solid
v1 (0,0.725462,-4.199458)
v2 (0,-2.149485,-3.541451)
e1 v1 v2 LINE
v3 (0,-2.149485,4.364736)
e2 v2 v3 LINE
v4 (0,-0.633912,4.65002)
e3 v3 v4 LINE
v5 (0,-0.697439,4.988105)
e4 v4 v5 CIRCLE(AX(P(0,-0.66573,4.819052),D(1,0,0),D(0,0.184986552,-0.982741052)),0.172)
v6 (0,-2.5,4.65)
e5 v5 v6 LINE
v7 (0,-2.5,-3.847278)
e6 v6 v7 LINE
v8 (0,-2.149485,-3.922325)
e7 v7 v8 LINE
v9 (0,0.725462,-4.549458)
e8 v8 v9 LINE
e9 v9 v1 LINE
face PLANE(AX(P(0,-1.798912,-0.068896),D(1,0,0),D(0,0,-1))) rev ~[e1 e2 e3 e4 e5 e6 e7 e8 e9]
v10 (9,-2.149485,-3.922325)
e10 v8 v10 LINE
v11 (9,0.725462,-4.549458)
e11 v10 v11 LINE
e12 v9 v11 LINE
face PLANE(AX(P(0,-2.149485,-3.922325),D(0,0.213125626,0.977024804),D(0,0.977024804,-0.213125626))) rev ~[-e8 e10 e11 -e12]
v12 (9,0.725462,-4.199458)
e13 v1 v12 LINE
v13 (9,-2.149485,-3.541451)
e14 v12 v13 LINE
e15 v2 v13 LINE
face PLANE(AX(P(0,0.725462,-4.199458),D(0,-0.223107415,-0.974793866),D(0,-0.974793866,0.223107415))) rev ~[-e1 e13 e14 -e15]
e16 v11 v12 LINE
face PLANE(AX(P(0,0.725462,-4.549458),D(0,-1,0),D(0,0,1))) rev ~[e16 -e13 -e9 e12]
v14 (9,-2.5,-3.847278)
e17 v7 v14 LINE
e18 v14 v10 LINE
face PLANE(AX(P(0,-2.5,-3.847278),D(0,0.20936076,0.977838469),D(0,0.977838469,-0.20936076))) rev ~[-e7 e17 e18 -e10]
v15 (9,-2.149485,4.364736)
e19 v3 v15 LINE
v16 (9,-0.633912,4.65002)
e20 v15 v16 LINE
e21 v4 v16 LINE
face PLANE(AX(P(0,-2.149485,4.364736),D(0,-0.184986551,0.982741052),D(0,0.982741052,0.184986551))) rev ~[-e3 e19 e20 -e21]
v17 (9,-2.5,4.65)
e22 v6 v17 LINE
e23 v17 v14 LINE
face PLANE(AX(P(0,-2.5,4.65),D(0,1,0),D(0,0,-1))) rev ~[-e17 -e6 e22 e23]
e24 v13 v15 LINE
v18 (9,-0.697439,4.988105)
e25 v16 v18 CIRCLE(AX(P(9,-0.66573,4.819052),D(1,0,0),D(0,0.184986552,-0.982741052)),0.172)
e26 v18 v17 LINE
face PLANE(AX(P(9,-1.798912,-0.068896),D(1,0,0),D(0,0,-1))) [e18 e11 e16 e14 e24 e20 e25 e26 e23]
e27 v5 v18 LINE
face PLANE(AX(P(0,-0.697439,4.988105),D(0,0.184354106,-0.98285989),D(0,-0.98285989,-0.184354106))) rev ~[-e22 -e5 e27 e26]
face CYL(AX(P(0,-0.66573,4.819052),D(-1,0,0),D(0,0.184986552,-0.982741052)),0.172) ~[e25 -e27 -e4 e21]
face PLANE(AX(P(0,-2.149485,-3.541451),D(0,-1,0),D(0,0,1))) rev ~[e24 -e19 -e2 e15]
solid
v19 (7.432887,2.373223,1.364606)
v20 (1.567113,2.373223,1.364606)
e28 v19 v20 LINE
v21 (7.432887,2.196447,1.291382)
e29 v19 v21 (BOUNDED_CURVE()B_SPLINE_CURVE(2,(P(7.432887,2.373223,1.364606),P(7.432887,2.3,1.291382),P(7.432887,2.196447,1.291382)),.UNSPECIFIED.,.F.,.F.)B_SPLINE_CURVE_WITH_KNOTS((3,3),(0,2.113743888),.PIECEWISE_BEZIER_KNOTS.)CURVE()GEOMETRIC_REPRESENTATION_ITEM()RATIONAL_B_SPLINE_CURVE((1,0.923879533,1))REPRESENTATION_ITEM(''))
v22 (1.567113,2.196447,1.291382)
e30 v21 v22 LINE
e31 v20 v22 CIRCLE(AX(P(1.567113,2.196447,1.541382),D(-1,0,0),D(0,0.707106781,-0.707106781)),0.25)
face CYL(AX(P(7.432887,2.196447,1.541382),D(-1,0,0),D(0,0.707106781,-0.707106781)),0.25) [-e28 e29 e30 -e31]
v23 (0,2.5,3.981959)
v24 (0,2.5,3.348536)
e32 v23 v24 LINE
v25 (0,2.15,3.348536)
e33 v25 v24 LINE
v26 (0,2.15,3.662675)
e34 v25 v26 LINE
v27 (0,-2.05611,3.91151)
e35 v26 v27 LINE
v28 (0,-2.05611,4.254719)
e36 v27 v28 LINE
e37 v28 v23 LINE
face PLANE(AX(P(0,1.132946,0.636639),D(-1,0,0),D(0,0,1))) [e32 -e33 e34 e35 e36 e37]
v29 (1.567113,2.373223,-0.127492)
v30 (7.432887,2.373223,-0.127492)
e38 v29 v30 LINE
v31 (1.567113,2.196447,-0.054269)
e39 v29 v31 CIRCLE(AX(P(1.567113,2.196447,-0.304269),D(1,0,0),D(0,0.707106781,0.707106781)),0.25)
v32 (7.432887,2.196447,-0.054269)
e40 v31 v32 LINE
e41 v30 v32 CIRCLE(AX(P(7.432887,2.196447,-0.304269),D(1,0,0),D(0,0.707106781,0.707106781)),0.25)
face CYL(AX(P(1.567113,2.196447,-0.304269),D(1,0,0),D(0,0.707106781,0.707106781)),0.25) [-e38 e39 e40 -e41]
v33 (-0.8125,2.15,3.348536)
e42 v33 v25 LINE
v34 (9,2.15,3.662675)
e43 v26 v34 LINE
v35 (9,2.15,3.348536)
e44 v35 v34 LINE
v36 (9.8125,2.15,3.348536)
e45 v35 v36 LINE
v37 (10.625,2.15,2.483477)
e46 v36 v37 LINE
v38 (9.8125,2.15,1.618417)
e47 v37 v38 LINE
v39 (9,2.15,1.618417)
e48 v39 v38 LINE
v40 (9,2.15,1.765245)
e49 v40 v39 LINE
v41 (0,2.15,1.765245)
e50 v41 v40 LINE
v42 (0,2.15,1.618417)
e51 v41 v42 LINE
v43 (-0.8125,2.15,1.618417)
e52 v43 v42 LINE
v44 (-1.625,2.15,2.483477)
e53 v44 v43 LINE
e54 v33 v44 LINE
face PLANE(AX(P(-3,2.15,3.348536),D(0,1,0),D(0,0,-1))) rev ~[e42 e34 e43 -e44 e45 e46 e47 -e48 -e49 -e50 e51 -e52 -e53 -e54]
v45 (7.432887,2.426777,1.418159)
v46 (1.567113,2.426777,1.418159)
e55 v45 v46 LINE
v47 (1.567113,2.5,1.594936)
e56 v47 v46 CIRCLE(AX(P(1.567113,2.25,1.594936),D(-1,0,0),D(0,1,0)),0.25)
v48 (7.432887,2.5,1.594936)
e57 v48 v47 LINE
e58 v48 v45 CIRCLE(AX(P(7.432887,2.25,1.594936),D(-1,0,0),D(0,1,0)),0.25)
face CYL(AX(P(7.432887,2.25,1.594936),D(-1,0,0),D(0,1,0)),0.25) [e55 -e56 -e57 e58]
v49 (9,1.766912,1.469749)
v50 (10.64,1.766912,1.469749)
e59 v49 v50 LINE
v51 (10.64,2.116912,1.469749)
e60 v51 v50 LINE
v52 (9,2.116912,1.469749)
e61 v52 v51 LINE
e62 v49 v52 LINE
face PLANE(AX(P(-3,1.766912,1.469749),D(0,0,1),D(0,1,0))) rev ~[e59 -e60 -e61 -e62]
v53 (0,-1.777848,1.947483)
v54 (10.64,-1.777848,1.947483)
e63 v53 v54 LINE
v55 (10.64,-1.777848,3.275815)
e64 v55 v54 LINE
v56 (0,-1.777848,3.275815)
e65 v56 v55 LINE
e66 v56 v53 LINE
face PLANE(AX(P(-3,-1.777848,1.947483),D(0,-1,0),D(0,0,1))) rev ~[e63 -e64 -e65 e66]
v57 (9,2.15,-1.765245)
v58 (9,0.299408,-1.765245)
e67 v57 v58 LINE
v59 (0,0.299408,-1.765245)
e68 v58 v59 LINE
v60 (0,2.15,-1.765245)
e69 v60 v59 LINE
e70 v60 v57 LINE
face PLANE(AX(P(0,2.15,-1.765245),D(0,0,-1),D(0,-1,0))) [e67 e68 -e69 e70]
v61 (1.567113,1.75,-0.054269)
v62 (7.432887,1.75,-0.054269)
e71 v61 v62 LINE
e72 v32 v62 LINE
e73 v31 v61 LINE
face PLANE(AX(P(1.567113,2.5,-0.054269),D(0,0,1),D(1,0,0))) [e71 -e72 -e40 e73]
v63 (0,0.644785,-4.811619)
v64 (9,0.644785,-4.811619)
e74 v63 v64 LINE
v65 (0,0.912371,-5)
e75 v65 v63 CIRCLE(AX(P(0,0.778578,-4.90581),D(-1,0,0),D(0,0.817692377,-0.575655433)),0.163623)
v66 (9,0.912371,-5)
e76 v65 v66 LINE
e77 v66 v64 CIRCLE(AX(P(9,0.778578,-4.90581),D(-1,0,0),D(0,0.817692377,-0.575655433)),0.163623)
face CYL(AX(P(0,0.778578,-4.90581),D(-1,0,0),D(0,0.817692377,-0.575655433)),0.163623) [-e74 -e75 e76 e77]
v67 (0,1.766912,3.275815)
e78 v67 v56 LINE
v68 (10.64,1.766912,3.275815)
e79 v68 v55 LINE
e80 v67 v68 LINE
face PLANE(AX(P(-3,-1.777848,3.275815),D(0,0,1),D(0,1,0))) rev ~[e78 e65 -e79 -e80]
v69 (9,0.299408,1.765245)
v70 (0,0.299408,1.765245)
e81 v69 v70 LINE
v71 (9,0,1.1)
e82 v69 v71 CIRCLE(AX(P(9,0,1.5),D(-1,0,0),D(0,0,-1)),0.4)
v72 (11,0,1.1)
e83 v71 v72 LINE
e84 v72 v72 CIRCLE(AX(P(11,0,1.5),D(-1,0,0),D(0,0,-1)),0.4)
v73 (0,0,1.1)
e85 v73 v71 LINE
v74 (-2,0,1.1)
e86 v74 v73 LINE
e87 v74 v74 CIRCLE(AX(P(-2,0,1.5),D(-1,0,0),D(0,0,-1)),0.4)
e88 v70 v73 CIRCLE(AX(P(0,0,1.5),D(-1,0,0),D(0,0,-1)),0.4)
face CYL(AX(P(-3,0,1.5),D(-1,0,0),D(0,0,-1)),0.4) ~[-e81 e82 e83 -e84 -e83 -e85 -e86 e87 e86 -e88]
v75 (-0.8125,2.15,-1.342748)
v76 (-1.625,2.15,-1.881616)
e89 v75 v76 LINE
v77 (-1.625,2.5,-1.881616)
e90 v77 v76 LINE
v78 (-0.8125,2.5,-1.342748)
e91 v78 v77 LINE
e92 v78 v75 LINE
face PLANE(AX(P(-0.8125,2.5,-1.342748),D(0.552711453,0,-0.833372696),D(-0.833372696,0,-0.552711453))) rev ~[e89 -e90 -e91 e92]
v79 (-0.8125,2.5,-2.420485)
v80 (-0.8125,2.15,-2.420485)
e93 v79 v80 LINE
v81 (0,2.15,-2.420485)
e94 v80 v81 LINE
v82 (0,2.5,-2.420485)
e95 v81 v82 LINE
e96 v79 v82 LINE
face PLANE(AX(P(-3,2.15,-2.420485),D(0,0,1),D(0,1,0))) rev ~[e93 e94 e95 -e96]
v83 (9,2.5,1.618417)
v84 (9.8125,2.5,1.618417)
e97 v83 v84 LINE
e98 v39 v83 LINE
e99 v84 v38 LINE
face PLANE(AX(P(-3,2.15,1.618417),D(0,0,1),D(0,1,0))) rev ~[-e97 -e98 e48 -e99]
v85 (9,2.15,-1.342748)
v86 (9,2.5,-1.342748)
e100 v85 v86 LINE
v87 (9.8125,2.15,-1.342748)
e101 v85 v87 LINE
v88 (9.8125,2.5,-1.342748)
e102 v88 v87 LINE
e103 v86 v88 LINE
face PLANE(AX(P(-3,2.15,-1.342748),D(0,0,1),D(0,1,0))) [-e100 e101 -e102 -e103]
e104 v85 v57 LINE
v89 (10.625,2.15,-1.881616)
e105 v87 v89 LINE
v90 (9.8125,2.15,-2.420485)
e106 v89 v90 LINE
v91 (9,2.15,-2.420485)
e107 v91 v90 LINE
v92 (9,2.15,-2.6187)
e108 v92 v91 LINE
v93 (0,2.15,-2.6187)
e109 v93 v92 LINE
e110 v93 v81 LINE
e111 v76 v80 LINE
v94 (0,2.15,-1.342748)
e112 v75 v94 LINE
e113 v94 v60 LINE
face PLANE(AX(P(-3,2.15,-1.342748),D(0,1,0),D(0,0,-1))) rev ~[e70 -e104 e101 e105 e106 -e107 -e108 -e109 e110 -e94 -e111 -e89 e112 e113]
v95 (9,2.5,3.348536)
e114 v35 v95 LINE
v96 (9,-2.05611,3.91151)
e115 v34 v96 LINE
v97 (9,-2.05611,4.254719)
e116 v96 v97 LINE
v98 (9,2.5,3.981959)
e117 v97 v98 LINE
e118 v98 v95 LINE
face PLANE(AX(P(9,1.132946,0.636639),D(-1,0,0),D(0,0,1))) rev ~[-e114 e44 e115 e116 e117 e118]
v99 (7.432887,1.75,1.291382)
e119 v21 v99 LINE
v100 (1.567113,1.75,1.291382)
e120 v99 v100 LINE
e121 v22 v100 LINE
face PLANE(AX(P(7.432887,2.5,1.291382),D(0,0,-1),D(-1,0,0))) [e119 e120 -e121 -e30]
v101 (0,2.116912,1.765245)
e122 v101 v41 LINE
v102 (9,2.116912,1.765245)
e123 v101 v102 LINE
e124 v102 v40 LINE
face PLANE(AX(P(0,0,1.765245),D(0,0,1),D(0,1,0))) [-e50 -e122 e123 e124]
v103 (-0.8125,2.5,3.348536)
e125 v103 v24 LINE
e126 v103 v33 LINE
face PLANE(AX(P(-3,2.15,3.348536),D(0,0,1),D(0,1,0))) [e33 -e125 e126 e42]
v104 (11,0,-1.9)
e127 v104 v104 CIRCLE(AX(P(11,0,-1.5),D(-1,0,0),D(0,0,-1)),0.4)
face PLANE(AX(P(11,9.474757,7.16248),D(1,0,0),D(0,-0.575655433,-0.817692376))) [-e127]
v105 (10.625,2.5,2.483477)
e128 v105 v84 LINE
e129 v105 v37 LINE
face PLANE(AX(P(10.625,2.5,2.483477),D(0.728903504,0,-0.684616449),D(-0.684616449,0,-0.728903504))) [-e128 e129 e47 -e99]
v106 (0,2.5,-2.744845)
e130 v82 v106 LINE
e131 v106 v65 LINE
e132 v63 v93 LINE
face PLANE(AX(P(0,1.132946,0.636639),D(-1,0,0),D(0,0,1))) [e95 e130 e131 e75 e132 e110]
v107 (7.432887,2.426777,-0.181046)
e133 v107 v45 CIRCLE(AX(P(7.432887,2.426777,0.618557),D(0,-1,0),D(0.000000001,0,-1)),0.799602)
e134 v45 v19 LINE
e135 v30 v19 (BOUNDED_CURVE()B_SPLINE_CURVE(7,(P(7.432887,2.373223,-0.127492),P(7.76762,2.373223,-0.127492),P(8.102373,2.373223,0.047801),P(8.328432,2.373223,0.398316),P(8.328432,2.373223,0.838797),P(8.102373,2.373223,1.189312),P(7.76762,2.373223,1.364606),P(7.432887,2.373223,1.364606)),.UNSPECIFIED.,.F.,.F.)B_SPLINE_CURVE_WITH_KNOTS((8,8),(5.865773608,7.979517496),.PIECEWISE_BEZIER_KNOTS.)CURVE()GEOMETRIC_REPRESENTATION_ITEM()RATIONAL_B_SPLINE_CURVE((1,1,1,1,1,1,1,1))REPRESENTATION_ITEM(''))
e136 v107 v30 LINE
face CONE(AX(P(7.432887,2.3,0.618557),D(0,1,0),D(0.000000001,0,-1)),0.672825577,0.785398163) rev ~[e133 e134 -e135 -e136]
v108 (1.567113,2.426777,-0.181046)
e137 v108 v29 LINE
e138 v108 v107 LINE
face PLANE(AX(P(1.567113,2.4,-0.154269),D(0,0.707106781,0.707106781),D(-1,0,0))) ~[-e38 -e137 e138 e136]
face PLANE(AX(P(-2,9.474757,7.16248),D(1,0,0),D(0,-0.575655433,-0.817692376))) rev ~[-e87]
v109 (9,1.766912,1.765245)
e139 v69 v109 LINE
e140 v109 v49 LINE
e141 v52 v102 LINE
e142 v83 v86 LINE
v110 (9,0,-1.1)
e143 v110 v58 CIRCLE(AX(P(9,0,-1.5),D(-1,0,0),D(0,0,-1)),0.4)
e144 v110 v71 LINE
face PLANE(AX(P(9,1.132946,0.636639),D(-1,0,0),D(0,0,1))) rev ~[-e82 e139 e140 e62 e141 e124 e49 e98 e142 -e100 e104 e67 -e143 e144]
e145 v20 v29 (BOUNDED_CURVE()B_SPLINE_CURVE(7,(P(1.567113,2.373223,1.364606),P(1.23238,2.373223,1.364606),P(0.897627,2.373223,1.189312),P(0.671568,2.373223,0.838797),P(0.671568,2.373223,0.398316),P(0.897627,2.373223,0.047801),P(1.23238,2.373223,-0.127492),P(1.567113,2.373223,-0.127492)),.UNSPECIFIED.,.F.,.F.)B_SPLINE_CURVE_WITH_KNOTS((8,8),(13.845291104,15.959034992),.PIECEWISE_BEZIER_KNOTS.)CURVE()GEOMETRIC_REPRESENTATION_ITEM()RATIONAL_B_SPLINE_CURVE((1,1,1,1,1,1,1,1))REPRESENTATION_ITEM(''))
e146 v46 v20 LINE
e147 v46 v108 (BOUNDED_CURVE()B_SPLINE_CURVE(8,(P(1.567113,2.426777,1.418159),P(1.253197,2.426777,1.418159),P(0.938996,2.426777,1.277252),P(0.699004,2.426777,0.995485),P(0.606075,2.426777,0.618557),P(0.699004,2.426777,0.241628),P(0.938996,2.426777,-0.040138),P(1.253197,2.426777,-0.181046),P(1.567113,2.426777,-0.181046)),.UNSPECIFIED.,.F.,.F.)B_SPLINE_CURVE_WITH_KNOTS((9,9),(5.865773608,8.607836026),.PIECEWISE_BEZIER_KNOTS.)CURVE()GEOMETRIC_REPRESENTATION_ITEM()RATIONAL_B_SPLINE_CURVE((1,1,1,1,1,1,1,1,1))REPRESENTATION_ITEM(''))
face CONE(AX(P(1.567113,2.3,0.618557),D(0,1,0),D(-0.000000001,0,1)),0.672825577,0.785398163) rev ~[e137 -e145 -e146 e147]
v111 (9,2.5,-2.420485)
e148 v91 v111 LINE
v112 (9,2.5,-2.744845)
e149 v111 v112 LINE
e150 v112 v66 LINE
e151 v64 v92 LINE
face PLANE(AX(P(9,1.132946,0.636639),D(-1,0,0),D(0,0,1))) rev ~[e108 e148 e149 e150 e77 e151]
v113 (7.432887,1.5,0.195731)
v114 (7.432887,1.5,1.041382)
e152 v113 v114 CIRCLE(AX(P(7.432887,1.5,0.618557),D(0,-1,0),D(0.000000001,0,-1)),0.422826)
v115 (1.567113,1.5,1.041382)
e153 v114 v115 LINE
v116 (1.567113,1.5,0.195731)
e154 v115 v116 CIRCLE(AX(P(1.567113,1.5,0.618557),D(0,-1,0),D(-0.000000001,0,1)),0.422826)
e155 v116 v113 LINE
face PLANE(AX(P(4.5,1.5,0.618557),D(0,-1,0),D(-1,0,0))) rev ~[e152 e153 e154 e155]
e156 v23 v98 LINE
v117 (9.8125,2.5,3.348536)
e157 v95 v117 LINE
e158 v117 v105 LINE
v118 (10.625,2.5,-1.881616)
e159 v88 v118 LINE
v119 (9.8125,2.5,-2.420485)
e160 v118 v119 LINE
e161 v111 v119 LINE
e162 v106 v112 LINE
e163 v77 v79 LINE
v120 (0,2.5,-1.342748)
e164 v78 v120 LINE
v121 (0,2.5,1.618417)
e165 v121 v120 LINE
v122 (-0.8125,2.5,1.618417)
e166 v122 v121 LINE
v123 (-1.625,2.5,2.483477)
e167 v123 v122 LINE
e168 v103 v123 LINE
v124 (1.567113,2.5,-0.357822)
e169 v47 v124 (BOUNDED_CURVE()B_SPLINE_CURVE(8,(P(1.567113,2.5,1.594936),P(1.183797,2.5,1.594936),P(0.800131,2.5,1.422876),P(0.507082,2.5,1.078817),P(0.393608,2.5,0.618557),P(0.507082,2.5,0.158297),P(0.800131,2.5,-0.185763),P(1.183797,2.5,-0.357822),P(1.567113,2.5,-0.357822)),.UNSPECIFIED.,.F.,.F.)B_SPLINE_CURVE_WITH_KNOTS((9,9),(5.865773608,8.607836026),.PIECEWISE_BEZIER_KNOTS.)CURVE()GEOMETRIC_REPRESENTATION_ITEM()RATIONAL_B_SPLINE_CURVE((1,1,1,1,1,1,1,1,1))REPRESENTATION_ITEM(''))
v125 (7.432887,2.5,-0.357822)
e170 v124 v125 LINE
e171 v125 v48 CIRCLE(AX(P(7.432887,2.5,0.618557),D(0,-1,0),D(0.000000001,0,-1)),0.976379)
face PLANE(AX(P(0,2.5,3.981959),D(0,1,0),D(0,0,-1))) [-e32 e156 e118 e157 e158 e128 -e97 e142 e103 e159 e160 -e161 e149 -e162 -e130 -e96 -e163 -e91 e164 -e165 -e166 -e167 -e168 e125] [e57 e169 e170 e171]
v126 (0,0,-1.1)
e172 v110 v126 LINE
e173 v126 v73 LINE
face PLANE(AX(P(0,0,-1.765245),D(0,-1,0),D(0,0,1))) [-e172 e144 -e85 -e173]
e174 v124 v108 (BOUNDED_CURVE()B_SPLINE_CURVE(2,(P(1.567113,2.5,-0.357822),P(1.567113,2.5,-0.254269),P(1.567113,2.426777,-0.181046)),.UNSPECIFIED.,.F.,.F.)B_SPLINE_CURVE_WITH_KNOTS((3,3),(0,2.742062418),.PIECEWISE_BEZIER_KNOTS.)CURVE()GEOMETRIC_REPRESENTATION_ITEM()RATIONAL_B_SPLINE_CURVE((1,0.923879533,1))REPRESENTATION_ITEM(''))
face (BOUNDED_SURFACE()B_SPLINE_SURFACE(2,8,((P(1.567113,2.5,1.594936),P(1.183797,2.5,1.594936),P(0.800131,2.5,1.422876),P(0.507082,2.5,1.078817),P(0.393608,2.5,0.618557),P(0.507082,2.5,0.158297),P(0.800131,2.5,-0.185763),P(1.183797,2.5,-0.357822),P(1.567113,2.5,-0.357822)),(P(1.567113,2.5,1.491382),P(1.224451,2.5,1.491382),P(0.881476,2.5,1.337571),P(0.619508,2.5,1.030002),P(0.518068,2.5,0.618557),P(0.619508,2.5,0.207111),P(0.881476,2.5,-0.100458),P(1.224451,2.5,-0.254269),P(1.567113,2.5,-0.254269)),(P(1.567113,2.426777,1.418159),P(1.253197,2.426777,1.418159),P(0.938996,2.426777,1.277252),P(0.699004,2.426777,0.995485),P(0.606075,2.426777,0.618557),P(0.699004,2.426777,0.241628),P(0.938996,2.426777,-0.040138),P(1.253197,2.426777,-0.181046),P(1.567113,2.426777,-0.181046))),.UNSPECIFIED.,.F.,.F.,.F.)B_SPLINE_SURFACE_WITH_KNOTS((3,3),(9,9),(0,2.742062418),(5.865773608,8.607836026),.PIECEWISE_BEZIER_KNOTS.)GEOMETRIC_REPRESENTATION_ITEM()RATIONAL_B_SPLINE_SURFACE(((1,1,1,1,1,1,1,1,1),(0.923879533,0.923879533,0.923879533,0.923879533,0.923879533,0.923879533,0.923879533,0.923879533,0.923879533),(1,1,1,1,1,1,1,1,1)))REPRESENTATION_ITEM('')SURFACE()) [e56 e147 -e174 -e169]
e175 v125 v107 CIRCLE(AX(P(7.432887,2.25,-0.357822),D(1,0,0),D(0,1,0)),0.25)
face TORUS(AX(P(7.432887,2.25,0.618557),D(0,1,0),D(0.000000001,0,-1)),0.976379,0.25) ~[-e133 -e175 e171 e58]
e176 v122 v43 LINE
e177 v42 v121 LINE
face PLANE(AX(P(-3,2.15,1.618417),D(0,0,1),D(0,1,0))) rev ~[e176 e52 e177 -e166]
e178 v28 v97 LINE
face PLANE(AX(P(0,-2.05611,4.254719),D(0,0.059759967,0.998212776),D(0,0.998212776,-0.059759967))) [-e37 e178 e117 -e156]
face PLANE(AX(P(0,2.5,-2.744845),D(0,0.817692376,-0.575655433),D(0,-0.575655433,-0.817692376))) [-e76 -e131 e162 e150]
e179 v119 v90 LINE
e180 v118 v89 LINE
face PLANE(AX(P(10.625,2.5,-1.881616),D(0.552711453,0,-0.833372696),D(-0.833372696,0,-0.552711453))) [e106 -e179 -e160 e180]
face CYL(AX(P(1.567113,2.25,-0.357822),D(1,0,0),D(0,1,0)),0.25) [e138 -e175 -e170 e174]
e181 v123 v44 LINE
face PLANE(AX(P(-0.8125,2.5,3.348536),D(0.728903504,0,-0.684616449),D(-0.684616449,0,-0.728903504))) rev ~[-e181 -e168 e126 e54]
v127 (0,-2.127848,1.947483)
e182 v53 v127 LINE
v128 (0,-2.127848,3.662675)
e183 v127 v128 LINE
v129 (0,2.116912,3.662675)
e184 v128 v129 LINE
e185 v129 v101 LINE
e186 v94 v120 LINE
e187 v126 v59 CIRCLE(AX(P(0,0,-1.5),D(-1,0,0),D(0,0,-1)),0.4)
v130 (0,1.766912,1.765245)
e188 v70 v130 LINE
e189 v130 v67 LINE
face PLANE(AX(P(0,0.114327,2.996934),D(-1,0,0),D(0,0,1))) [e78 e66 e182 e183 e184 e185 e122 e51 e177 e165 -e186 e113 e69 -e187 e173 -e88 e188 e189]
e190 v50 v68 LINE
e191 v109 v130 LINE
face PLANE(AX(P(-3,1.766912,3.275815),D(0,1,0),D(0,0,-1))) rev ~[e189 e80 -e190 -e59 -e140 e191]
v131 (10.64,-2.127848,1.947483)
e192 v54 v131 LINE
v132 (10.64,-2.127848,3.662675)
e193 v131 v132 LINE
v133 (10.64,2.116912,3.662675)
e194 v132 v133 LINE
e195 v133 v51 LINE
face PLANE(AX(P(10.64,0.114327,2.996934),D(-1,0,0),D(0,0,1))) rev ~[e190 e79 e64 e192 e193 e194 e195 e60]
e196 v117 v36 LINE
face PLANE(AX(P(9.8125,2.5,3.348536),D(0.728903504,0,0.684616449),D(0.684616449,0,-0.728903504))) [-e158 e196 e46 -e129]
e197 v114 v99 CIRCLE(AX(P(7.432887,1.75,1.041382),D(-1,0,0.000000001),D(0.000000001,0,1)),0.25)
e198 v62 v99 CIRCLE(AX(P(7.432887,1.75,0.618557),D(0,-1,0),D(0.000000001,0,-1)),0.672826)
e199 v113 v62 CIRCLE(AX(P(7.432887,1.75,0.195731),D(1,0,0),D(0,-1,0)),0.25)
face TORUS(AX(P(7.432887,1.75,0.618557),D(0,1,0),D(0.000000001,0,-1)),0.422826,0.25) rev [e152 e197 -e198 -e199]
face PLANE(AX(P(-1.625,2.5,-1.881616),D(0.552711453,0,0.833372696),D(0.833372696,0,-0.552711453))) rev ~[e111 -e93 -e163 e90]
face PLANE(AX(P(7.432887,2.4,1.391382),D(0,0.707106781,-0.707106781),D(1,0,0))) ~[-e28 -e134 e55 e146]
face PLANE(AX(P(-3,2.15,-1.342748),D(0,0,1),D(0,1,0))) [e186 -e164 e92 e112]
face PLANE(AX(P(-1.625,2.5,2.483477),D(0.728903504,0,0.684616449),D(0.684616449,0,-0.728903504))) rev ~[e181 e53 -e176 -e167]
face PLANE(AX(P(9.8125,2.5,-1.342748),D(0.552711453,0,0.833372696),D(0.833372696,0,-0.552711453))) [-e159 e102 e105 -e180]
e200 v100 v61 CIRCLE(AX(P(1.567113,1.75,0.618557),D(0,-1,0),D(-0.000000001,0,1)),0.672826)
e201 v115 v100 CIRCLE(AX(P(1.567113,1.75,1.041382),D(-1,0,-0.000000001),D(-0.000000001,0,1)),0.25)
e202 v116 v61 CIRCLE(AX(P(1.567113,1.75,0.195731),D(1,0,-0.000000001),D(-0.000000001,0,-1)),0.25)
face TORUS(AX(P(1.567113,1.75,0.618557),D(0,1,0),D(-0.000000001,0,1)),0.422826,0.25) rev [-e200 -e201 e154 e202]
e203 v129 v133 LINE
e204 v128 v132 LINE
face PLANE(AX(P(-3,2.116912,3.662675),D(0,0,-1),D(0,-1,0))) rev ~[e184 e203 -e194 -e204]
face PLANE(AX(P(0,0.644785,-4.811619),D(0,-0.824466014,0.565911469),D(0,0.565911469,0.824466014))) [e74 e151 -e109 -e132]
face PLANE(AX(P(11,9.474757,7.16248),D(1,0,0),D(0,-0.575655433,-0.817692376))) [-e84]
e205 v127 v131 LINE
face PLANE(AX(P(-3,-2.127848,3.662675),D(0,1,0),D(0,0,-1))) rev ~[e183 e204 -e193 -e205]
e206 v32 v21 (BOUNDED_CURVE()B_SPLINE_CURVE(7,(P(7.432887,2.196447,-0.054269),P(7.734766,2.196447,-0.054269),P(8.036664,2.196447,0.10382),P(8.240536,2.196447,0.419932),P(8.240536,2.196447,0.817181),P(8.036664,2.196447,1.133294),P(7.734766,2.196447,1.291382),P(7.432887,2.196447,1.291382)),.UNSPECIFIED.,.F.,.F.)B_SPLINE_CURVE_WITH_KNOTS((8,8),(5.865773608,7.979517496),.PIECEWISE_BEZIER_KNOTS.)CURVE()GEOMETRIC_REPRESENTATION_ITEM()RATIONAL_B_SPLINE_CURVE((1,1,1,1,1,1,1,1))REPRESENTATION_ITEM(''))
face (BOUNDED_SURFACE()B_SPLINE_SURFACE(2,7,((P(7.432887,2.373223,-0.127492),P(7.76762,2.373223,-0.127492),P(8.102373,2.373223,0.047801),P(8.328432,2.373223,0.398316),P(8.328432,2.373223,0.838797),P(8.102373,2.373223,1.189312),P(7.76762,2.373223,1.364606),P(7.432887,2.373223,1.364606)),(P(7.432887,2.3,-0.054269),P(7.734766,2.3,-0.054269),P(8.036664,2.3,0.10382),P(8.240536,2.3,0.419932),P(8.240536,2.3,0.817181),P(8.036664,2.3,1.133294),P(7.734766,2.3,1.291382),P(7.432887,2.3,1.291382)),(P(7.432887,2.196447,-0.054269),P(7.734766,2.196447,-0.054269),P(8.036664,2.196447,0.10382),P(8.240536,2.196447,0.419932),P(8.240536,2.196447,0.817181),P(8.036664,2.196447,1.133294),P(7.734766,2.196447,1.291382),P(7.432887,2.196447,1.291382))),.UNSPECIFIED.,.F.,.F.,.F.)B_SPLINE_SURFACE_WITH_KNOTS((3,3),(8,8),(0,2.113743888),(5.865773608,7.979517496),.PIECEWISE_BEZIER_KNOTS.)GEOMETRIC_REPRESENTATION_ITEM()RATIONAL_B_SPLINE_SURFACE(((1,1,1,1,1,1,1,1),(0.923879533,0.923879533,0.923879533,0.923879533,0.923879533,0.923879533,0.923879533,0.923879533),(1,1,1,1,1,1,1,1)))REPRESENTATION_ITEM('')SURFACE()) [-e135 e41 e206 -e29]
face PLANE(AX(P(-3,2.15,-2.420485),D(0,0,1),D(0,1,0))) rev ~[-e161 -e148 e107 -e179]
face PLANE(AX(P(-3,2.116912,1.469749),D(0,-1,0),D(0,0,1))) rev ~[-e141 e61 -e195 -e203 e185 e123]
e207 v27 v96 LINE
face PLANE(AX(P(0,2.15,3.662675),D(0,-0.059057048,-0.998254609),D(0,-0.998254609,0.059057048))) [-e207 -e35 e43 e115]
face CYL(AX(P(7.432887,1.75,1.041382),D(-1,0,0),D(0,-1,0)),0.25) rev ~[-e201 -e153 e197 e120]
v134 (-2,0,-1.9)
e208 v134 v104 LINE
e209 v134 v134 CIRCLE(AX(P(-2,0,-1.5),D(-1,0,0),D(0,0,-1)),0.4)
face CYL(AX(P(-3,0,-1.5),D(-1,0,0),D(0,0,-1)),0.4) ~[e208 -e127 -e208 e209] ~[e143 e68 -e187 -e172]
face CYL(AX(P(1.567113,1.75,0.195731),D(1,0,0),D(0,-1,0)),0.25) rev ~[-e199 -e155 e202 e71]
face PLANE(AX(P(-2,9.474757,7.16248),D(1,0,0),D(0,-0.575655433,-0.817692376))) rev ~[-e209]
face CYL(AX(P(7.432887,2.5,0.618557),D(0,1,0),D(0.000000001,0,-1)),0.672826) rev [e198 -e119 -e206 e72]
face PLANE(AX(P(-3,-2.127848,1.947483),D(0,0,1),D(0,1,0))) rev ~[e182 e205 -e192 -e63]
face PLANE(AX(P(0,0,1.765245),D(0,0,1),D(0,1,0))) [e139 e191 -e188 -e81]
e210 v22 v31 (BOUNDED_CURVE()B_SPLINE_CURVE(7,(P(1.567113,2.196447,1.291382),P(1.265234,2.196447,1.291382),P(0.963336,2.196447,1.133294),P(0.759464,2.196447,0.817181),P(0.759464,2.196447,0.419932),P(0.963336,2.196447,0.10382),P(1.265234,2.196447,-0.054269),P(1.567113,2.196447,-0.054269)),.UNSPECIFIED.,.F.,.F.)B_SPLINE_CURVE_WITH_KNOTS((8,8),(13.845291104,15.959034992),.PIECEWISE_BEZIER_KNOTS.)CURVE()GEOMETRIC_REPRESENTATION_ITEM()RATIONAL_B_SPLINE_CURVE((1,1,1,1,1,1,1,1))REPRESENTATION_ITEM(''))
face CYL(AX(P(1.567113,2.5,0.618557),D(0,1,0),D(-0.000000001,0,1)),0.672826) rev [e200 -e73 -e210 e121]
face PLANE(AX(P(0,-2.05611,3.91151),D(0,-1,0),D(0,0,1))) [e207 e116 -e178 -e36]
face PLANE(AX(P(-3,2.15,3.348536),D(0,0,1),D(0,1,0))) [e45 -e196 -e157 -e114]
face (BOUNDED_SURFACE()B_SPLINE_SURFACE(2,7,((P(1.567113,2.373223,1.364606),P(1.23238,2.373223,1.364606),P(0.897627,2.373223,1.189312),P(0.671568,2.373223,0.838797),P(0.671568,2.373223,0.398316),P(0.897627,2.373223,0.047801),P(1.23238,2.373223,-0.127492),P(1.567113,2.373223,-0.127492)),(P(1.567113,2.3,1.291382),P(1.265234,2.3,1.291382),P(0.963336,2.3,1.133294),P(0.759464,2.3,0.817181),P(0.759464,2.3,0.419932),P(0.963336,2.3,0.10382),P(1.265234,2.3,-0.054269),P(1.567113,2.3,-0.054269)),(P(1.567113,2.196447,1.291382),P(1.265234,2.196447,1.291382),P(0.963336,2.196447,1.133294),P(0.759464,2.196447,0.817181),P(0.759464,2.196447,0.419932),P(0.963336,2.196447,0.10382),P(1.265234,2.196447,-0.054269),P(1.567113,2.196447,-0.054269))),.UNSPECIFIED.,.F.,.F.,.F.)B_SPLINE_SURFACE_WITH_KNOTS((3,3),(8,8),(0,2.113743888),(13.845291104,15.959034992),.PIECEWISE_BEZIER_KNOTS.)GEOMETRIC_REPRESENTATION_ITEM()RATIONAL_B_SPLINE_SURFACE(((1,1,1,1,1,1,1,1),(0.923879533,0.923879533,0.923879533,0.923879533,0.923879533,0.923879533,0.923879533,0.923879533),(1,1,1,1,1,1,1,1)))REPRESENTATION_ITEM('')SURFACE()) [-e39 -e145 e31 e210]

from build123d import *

# Parameters (mm, degrees)
RESSALTO_EXTRUS_O1_DEPTH      = 9
RESSALTO_EXTRUS_O1_2_DEPTH    = 9
CORTE_EXTRUS_O1_DEPTH         = 1
CHANFRO1_SIZE                 = 0.2
FILETE1_R                     = 0.25
FILETE2_R                     = 0.25
FILETE3_R                     = 0.25
RESSALTO_EXTRUS_O2_DEPTH      = 3
RESSALTO_EXTRUS_O2_DEPTH_BACK = 12
ESBO_O3_R                     = 0.4
ESBO_O4_W                     = 1.462776185
ESBO_O4_H                     = 17.561147647
CORTE_EXTRUS_O3_DEPTH         = 12
RESSALTO_EXTRUS_O3_DEPTH      = 4
RESSALTO_EXTRUS_O3_DEPTH_BACK = 12
ESBO_O5_W                     = 1.730119391
ESBO_O5_H                     = 0.35
ESBO_O5_W_2                   = 1.077736426
CORTE_EXTRUS_O6_DEPTH         = 0.36
CORTE_EXTRUS_O8_DEPTH         = 2.36
CORTE_EXTRUS_O9_DEPTH         = 3
CORTE_EXTRUS_O10_DEPTH        = 0.36
CORTE_EXTRUS_O11_DEPTH        = 0.36


with BuildPart() as part:
    # Esboço1 → Ressalto-extrusão1 (new body)
    with BuildSketch(Plane(origin=(0, 0, 0), x_dir=(0, 0, -1), z_dir=(1, 0, 0))):
        with BuildLine():
            ThreePointArc((5, 0.912371134), (5.039602728, 0.68438786), (4.811619455, 0.644785132))
            Line((4.811619455, 0.644785132), (2.61869959, 2.15))
            Line((2.61869959, 2.15), (1.765244755, 2.15))
            Line((1.765244755, 2.15), (1.765244755, 0))
            Line((1.765244755, 0), (-1.765244755, 0))
            Line((-1.765244755, 0), (-1.765244755, 2.15))
            Line((-1.765244755, 2.15), (-3.6626751, 2.15))
            Line((-3.6626751, 2.15), (-3.911509847, -2.056109913))
            Line((-3.911509847, -2.056109913), (-4.254719223, -2.056109913))
            Line((-4.254719223, -2.056109913), (-3.981958763, 2.5))
            Line((-3.981958763, 2.5), (2.744845361, 2.5))
            Line((2.744845361, 2.5), (5, 0.912371134))
        make_face()
    extrude(amount=RESSALTO_EXTRUS_O1_DEPTH)

    # Esboço2 → Corte-extrusão1 (cut)
    with BuildSketch(Plane(origin=(0, 2.5, 0), x_dir=(1, 0, 0), z_dir=(0, 1, 0))):
        with BuildLine():
            Line((1.567113196, 0.054268876), (7.432886804, 0.054268876))
            ThreePointArc((7.432886804, 0.054268876), (8.10571238, -0.618556701), (7.432886804, -1.291382278))
            Line((7.432886804, -1.291382278), (1.567113196, -1.291382278))
            ThreePointArc((1.567113196, -1.291382278), (0.89428762, -0.618556701), (1.567113196, 0.054268876))
        make_face()
    extrude(amount=-CORTE_EXTRUS_O1_DEPTH, mode=Mode.SUBTRACT)

    # Chanfro1
    chanfro1_edges = [part.edges().sort_by_distance(p)[0] for p in [
        (0.89428762, 2.5, 0.618556701),
        (4.5, 2.5, 1.291382278),
        (8.10571238, 2.5, 0.618556701),
        (4.5, 2.5, -0.054268876),
    ]]
    chamfer(chanfro1_edges, length=CHANFRO1_SIZE)

    # Filete1
    filete1_edges = [part.edges().sort_by_distance(p)[0] for p in [
        (4.5, 2.5, 1.491382278),
        (8.30571238, 2.5, 0.618556701),
        (0.69428762, 2.5, 0.618556701),
        (4.5, 2.5, -0.254268876),
    ]]
    fillet(filete1_edges, radius=FILETE1_R)

    # Filete2
    filete2_edges = [part.edges().sort_by_distance(p)[0] for p in [
        (4.5, 2.3, -0.054268876),
        (0.89428762, 2.3, 0.618556701),
        (8.10571238, 2.3, 0.618556701),
        (4.5, 2.3, 1.291382278),
    ]]
    fillet(filete2_edges, radius=FILETE2_R)

    # Filete3
    filete3_edges = [part.edges().sort_by_distance(p)[0] for p in [
        (0.89428762, 1.5, 0.618556701),
        (4.5, 1.5, -0.054268876),
        (8.10571238, 1.5, 0.618556701),
        (4.5, 1.5, 1.291382278),
    ]]
    fillet(filete3_edges, radius=FILETE3_R)

    # Esboço3 → Ressalto-extrusão2 (add, two sides: drawn at the far end of the back side and taken through both)
    with BuildSketch(Plane(origin=(9, 0, 0), x_dir=(0, 0, -1), z_dir=(1, 0, 0)).offset(-RESSALTO_EXTRUS_O2_DEPTH_BACK)):
        with Locations((1.5, 0)):
            Circle(ESBO_O3_R)
        with Locations((-1.5, 0)):
            Circle(ESBO_O3_R)
    extrude(amount=RESSALTO_EXTRUS_O2_DEPTH + RESSALTO_EXTRUS_O2_DEPTH_BACK)

    # Esboço4 → Corte-extrusão3 (cut)
    with BuildSketch(Plane(origin=(0, 2.963575633, -2.086357246), x_dir=(1, 0, 0), z_dir=(0, 0.8176923764210481, -0.5756554330004183))):
        with Locations((11.731388093, -2.530326619)):
            Rectangle(ESBO_O4_W, ESBO_O4_H)
        with Locations((-2.731388093, -2.530326619)):
            Rectangle(ESBO_O4_W, ESBO_O4_H)
    extrude(amount=-CORTE_EXTRUS_O3_DEPTH, mode=Mode.SUBTRACT)

    # Esboço5 → Ressalto-extrusão3 (add, two sides: drawn at the far end of the back side and taken through both)
    with BuildSketch(Plane(origin=(9, 0, 0), x_dir=(0, 0, -1), z_dir=(1, 0, 0)).offset(-RESSALTO_EXTRUS_O3_DEPTH_BACK)):
        Polygon((-3.6626751, 2.116911528), (-3.6626751, -2.127847944), (-1.947482914, -2.127847944), (-1.947482914, -1.777847944), (-3.275815381, -1.777847944), (-3.275815381, 1.766911528), (-1.469749308, 1.766911528), (-1.469749308, 2.116911528), align=None)
        with Locations((-2.483476717, 2.325)):
            Rectangle(ESBO_O5_W, ESBO_O5_H)
        with Locations((1.881616355, 2.325)):
            Rectangle(ESBO_O5_W_2, ESBO_O5_H)
    extrude(amount=RESSALTO_EXTRUS_O3_DEPTH + RESSALTO_EXTRUS_O3_DEPTH_BACK)

    # Esboço7 → Corte-extrusão6 (cut)
    with BuildSketch(Plane(origin=(0, 2.5, 0), x_dir=(1, 0, 0), z_dir=(0, 1, 0))):
        Polygon((10.625, -8.423324635), (15.073277982, -8.423324635), (15.073277982, 13.913015356), (10.913616259, 13.913015356), (10.625, 11.310202992), (10.625, -5.82051227), align=None)
        Polygon((-1.625, -5.82051227), (-1.625, 11.310202992), (-1.300663163, 13.913015356), (-6.073277982, 13.913015356), (-6.073277982, -8.423324635), (-1.625, -8.423324635), align=None)
    extrude(amount=-CORTE_EXTRUS_O6_DEPTH, mode=Mode.SUBTRACT)

    # Esboço11 → Corte-extrusão8 (cut)
    with BuildSketch(Plane(origin=(13, 0, 0), x_dir=(0, 0, -1), z_dir=(1, 0, 0))):
        Polygon((-3.6626751, 2.116911528), (-1.469749308, 2.116911528), (-1.469749308, 1.766911528), (-3.275815381, 1.766911528), (-3.275815381, -1.777847944), (-1.947482914, -1.777847944), (-1.947482914, -2.127847944), (-3.6626751, -2.127847944), align=None)
    extrude(amount=-CORTE_EXTRUS_O8_DEPTH, mode=Mode.SUBTRACT)

    # Esboço12 → Corte-extrusão9 (cut)
    with BuildSketch(Plane.ZY.offset(3)):
        Polygon((1.469749308, 2.116911528), (1.469749308, 1.766911528), (3.275815381, 1.766911528), (3.275815381, -1.777847944), (1.947482914, -1.777847944), (1.947482914, -2.127847944), (3.6626751, -2.127847944), (3.6626751, 2.116911528), align=None)
    extrude(amount=-CORTE_EXTRUS_O9_DEPTH, mode=Mode.SUBTRACT)

    # Esboço13 → Corte-extrusão10 (cut)
    with BuildSketch(Plane(origin=(0, 2.5, 0), x_dir=(1, 0, 0), z_dir=(0, 1, 0))):
        Polygon((-1.625, 1.881616355), (-0.8125, 2.420484568), (-0.619357686, 3.416910301), (-2.700274801, 2.918697434), (-3.188623859, 0.39929318), (-0.8125, 0.220139081), (-0.8125, 1.342748142), align=None)
        Polygon((-1.625, -2.483476717), (-0.8125, -1.618417021), (-1.509025148, -0.428262629), (-2.971698772, -0.835398587), (-2.805828567, -2.916006565), (-2.566502248, -4.18187146), (-1.625, -4.378989326), (-0.8125, -3.348536412), align=None)
    extrude(amount=-CORTE_EXTRUS_O10_DEPTH, mode=Mode.SUBTRACT)

    # Esboço14 → Corte-extrusão11 (cut)
    with BuildSketch(Plane(origin=(0, 2.5, 0), x_dir=(1, 0, 0), z_dir=(0, 1, 0))):
        Polygon((10.625, 1.881616355), (9.8125, 2.420484568), (9.8125, 3.383797521), (12.178736947, 2.576774689), (12.29047857, 0.913066082), (10.142556264, 0.180537666), (9.8125, 1.342748142), align=None)
        Polygon((10.625, -2.483476717), (9.8125, -1.618417021), (9.8125, -0.837552676), (12.886433892, -1.39626079), (11.818680607, -3.348536412), (10.527444076, -4.028396796), (9.8125, -3.348536412), align=None)
    extrude(amount=-CORTE_EXTRUS_O11_DEPTH, mode=Mode.SUBTRACT)


with BuildPart() as body_2:
    # Esboço1 → Ressalto-extrus_o1 2 (new body)
    with BuildSketch(Plane(origin=(0, 0, 0), x_dir=(0, 0, -1), z_dir=(1, 0, 0))):
        with BuildLine():
            Line((-4.65, -2.5), (3.847277584, -2.5))
            Line((3.847277584, -2.5), (3.922324932, -2.149484536))
            Line((3.922324932, -2.149484536), (4.549458244, 0.725462093))
            Line((4.549458244, 0.725462093), (4.199458244, 0.725462093))
            Line((4.199458244, 0.725462093), (3.541450501, -2.149484536))
            Line((3.541450501, -2.149484536), (-4.364736204, -2.149484536))
            Line((-4.364736204, -2.149484536), (-4.650020475, -0.633911844))
            ThreePointArc((-4.650020475, -0.633911844), (-4.850815775, -0.496687472), (-4.988104747, -0.697438608))
            Line((-4.988104747, -0.697438608), (-4.65, -2.5))
        make_face()
    extrude(amount=RESSALTO_EXTRUS_O1_2_DEPTH)


solid = Compound([part.part, body_2.part])
